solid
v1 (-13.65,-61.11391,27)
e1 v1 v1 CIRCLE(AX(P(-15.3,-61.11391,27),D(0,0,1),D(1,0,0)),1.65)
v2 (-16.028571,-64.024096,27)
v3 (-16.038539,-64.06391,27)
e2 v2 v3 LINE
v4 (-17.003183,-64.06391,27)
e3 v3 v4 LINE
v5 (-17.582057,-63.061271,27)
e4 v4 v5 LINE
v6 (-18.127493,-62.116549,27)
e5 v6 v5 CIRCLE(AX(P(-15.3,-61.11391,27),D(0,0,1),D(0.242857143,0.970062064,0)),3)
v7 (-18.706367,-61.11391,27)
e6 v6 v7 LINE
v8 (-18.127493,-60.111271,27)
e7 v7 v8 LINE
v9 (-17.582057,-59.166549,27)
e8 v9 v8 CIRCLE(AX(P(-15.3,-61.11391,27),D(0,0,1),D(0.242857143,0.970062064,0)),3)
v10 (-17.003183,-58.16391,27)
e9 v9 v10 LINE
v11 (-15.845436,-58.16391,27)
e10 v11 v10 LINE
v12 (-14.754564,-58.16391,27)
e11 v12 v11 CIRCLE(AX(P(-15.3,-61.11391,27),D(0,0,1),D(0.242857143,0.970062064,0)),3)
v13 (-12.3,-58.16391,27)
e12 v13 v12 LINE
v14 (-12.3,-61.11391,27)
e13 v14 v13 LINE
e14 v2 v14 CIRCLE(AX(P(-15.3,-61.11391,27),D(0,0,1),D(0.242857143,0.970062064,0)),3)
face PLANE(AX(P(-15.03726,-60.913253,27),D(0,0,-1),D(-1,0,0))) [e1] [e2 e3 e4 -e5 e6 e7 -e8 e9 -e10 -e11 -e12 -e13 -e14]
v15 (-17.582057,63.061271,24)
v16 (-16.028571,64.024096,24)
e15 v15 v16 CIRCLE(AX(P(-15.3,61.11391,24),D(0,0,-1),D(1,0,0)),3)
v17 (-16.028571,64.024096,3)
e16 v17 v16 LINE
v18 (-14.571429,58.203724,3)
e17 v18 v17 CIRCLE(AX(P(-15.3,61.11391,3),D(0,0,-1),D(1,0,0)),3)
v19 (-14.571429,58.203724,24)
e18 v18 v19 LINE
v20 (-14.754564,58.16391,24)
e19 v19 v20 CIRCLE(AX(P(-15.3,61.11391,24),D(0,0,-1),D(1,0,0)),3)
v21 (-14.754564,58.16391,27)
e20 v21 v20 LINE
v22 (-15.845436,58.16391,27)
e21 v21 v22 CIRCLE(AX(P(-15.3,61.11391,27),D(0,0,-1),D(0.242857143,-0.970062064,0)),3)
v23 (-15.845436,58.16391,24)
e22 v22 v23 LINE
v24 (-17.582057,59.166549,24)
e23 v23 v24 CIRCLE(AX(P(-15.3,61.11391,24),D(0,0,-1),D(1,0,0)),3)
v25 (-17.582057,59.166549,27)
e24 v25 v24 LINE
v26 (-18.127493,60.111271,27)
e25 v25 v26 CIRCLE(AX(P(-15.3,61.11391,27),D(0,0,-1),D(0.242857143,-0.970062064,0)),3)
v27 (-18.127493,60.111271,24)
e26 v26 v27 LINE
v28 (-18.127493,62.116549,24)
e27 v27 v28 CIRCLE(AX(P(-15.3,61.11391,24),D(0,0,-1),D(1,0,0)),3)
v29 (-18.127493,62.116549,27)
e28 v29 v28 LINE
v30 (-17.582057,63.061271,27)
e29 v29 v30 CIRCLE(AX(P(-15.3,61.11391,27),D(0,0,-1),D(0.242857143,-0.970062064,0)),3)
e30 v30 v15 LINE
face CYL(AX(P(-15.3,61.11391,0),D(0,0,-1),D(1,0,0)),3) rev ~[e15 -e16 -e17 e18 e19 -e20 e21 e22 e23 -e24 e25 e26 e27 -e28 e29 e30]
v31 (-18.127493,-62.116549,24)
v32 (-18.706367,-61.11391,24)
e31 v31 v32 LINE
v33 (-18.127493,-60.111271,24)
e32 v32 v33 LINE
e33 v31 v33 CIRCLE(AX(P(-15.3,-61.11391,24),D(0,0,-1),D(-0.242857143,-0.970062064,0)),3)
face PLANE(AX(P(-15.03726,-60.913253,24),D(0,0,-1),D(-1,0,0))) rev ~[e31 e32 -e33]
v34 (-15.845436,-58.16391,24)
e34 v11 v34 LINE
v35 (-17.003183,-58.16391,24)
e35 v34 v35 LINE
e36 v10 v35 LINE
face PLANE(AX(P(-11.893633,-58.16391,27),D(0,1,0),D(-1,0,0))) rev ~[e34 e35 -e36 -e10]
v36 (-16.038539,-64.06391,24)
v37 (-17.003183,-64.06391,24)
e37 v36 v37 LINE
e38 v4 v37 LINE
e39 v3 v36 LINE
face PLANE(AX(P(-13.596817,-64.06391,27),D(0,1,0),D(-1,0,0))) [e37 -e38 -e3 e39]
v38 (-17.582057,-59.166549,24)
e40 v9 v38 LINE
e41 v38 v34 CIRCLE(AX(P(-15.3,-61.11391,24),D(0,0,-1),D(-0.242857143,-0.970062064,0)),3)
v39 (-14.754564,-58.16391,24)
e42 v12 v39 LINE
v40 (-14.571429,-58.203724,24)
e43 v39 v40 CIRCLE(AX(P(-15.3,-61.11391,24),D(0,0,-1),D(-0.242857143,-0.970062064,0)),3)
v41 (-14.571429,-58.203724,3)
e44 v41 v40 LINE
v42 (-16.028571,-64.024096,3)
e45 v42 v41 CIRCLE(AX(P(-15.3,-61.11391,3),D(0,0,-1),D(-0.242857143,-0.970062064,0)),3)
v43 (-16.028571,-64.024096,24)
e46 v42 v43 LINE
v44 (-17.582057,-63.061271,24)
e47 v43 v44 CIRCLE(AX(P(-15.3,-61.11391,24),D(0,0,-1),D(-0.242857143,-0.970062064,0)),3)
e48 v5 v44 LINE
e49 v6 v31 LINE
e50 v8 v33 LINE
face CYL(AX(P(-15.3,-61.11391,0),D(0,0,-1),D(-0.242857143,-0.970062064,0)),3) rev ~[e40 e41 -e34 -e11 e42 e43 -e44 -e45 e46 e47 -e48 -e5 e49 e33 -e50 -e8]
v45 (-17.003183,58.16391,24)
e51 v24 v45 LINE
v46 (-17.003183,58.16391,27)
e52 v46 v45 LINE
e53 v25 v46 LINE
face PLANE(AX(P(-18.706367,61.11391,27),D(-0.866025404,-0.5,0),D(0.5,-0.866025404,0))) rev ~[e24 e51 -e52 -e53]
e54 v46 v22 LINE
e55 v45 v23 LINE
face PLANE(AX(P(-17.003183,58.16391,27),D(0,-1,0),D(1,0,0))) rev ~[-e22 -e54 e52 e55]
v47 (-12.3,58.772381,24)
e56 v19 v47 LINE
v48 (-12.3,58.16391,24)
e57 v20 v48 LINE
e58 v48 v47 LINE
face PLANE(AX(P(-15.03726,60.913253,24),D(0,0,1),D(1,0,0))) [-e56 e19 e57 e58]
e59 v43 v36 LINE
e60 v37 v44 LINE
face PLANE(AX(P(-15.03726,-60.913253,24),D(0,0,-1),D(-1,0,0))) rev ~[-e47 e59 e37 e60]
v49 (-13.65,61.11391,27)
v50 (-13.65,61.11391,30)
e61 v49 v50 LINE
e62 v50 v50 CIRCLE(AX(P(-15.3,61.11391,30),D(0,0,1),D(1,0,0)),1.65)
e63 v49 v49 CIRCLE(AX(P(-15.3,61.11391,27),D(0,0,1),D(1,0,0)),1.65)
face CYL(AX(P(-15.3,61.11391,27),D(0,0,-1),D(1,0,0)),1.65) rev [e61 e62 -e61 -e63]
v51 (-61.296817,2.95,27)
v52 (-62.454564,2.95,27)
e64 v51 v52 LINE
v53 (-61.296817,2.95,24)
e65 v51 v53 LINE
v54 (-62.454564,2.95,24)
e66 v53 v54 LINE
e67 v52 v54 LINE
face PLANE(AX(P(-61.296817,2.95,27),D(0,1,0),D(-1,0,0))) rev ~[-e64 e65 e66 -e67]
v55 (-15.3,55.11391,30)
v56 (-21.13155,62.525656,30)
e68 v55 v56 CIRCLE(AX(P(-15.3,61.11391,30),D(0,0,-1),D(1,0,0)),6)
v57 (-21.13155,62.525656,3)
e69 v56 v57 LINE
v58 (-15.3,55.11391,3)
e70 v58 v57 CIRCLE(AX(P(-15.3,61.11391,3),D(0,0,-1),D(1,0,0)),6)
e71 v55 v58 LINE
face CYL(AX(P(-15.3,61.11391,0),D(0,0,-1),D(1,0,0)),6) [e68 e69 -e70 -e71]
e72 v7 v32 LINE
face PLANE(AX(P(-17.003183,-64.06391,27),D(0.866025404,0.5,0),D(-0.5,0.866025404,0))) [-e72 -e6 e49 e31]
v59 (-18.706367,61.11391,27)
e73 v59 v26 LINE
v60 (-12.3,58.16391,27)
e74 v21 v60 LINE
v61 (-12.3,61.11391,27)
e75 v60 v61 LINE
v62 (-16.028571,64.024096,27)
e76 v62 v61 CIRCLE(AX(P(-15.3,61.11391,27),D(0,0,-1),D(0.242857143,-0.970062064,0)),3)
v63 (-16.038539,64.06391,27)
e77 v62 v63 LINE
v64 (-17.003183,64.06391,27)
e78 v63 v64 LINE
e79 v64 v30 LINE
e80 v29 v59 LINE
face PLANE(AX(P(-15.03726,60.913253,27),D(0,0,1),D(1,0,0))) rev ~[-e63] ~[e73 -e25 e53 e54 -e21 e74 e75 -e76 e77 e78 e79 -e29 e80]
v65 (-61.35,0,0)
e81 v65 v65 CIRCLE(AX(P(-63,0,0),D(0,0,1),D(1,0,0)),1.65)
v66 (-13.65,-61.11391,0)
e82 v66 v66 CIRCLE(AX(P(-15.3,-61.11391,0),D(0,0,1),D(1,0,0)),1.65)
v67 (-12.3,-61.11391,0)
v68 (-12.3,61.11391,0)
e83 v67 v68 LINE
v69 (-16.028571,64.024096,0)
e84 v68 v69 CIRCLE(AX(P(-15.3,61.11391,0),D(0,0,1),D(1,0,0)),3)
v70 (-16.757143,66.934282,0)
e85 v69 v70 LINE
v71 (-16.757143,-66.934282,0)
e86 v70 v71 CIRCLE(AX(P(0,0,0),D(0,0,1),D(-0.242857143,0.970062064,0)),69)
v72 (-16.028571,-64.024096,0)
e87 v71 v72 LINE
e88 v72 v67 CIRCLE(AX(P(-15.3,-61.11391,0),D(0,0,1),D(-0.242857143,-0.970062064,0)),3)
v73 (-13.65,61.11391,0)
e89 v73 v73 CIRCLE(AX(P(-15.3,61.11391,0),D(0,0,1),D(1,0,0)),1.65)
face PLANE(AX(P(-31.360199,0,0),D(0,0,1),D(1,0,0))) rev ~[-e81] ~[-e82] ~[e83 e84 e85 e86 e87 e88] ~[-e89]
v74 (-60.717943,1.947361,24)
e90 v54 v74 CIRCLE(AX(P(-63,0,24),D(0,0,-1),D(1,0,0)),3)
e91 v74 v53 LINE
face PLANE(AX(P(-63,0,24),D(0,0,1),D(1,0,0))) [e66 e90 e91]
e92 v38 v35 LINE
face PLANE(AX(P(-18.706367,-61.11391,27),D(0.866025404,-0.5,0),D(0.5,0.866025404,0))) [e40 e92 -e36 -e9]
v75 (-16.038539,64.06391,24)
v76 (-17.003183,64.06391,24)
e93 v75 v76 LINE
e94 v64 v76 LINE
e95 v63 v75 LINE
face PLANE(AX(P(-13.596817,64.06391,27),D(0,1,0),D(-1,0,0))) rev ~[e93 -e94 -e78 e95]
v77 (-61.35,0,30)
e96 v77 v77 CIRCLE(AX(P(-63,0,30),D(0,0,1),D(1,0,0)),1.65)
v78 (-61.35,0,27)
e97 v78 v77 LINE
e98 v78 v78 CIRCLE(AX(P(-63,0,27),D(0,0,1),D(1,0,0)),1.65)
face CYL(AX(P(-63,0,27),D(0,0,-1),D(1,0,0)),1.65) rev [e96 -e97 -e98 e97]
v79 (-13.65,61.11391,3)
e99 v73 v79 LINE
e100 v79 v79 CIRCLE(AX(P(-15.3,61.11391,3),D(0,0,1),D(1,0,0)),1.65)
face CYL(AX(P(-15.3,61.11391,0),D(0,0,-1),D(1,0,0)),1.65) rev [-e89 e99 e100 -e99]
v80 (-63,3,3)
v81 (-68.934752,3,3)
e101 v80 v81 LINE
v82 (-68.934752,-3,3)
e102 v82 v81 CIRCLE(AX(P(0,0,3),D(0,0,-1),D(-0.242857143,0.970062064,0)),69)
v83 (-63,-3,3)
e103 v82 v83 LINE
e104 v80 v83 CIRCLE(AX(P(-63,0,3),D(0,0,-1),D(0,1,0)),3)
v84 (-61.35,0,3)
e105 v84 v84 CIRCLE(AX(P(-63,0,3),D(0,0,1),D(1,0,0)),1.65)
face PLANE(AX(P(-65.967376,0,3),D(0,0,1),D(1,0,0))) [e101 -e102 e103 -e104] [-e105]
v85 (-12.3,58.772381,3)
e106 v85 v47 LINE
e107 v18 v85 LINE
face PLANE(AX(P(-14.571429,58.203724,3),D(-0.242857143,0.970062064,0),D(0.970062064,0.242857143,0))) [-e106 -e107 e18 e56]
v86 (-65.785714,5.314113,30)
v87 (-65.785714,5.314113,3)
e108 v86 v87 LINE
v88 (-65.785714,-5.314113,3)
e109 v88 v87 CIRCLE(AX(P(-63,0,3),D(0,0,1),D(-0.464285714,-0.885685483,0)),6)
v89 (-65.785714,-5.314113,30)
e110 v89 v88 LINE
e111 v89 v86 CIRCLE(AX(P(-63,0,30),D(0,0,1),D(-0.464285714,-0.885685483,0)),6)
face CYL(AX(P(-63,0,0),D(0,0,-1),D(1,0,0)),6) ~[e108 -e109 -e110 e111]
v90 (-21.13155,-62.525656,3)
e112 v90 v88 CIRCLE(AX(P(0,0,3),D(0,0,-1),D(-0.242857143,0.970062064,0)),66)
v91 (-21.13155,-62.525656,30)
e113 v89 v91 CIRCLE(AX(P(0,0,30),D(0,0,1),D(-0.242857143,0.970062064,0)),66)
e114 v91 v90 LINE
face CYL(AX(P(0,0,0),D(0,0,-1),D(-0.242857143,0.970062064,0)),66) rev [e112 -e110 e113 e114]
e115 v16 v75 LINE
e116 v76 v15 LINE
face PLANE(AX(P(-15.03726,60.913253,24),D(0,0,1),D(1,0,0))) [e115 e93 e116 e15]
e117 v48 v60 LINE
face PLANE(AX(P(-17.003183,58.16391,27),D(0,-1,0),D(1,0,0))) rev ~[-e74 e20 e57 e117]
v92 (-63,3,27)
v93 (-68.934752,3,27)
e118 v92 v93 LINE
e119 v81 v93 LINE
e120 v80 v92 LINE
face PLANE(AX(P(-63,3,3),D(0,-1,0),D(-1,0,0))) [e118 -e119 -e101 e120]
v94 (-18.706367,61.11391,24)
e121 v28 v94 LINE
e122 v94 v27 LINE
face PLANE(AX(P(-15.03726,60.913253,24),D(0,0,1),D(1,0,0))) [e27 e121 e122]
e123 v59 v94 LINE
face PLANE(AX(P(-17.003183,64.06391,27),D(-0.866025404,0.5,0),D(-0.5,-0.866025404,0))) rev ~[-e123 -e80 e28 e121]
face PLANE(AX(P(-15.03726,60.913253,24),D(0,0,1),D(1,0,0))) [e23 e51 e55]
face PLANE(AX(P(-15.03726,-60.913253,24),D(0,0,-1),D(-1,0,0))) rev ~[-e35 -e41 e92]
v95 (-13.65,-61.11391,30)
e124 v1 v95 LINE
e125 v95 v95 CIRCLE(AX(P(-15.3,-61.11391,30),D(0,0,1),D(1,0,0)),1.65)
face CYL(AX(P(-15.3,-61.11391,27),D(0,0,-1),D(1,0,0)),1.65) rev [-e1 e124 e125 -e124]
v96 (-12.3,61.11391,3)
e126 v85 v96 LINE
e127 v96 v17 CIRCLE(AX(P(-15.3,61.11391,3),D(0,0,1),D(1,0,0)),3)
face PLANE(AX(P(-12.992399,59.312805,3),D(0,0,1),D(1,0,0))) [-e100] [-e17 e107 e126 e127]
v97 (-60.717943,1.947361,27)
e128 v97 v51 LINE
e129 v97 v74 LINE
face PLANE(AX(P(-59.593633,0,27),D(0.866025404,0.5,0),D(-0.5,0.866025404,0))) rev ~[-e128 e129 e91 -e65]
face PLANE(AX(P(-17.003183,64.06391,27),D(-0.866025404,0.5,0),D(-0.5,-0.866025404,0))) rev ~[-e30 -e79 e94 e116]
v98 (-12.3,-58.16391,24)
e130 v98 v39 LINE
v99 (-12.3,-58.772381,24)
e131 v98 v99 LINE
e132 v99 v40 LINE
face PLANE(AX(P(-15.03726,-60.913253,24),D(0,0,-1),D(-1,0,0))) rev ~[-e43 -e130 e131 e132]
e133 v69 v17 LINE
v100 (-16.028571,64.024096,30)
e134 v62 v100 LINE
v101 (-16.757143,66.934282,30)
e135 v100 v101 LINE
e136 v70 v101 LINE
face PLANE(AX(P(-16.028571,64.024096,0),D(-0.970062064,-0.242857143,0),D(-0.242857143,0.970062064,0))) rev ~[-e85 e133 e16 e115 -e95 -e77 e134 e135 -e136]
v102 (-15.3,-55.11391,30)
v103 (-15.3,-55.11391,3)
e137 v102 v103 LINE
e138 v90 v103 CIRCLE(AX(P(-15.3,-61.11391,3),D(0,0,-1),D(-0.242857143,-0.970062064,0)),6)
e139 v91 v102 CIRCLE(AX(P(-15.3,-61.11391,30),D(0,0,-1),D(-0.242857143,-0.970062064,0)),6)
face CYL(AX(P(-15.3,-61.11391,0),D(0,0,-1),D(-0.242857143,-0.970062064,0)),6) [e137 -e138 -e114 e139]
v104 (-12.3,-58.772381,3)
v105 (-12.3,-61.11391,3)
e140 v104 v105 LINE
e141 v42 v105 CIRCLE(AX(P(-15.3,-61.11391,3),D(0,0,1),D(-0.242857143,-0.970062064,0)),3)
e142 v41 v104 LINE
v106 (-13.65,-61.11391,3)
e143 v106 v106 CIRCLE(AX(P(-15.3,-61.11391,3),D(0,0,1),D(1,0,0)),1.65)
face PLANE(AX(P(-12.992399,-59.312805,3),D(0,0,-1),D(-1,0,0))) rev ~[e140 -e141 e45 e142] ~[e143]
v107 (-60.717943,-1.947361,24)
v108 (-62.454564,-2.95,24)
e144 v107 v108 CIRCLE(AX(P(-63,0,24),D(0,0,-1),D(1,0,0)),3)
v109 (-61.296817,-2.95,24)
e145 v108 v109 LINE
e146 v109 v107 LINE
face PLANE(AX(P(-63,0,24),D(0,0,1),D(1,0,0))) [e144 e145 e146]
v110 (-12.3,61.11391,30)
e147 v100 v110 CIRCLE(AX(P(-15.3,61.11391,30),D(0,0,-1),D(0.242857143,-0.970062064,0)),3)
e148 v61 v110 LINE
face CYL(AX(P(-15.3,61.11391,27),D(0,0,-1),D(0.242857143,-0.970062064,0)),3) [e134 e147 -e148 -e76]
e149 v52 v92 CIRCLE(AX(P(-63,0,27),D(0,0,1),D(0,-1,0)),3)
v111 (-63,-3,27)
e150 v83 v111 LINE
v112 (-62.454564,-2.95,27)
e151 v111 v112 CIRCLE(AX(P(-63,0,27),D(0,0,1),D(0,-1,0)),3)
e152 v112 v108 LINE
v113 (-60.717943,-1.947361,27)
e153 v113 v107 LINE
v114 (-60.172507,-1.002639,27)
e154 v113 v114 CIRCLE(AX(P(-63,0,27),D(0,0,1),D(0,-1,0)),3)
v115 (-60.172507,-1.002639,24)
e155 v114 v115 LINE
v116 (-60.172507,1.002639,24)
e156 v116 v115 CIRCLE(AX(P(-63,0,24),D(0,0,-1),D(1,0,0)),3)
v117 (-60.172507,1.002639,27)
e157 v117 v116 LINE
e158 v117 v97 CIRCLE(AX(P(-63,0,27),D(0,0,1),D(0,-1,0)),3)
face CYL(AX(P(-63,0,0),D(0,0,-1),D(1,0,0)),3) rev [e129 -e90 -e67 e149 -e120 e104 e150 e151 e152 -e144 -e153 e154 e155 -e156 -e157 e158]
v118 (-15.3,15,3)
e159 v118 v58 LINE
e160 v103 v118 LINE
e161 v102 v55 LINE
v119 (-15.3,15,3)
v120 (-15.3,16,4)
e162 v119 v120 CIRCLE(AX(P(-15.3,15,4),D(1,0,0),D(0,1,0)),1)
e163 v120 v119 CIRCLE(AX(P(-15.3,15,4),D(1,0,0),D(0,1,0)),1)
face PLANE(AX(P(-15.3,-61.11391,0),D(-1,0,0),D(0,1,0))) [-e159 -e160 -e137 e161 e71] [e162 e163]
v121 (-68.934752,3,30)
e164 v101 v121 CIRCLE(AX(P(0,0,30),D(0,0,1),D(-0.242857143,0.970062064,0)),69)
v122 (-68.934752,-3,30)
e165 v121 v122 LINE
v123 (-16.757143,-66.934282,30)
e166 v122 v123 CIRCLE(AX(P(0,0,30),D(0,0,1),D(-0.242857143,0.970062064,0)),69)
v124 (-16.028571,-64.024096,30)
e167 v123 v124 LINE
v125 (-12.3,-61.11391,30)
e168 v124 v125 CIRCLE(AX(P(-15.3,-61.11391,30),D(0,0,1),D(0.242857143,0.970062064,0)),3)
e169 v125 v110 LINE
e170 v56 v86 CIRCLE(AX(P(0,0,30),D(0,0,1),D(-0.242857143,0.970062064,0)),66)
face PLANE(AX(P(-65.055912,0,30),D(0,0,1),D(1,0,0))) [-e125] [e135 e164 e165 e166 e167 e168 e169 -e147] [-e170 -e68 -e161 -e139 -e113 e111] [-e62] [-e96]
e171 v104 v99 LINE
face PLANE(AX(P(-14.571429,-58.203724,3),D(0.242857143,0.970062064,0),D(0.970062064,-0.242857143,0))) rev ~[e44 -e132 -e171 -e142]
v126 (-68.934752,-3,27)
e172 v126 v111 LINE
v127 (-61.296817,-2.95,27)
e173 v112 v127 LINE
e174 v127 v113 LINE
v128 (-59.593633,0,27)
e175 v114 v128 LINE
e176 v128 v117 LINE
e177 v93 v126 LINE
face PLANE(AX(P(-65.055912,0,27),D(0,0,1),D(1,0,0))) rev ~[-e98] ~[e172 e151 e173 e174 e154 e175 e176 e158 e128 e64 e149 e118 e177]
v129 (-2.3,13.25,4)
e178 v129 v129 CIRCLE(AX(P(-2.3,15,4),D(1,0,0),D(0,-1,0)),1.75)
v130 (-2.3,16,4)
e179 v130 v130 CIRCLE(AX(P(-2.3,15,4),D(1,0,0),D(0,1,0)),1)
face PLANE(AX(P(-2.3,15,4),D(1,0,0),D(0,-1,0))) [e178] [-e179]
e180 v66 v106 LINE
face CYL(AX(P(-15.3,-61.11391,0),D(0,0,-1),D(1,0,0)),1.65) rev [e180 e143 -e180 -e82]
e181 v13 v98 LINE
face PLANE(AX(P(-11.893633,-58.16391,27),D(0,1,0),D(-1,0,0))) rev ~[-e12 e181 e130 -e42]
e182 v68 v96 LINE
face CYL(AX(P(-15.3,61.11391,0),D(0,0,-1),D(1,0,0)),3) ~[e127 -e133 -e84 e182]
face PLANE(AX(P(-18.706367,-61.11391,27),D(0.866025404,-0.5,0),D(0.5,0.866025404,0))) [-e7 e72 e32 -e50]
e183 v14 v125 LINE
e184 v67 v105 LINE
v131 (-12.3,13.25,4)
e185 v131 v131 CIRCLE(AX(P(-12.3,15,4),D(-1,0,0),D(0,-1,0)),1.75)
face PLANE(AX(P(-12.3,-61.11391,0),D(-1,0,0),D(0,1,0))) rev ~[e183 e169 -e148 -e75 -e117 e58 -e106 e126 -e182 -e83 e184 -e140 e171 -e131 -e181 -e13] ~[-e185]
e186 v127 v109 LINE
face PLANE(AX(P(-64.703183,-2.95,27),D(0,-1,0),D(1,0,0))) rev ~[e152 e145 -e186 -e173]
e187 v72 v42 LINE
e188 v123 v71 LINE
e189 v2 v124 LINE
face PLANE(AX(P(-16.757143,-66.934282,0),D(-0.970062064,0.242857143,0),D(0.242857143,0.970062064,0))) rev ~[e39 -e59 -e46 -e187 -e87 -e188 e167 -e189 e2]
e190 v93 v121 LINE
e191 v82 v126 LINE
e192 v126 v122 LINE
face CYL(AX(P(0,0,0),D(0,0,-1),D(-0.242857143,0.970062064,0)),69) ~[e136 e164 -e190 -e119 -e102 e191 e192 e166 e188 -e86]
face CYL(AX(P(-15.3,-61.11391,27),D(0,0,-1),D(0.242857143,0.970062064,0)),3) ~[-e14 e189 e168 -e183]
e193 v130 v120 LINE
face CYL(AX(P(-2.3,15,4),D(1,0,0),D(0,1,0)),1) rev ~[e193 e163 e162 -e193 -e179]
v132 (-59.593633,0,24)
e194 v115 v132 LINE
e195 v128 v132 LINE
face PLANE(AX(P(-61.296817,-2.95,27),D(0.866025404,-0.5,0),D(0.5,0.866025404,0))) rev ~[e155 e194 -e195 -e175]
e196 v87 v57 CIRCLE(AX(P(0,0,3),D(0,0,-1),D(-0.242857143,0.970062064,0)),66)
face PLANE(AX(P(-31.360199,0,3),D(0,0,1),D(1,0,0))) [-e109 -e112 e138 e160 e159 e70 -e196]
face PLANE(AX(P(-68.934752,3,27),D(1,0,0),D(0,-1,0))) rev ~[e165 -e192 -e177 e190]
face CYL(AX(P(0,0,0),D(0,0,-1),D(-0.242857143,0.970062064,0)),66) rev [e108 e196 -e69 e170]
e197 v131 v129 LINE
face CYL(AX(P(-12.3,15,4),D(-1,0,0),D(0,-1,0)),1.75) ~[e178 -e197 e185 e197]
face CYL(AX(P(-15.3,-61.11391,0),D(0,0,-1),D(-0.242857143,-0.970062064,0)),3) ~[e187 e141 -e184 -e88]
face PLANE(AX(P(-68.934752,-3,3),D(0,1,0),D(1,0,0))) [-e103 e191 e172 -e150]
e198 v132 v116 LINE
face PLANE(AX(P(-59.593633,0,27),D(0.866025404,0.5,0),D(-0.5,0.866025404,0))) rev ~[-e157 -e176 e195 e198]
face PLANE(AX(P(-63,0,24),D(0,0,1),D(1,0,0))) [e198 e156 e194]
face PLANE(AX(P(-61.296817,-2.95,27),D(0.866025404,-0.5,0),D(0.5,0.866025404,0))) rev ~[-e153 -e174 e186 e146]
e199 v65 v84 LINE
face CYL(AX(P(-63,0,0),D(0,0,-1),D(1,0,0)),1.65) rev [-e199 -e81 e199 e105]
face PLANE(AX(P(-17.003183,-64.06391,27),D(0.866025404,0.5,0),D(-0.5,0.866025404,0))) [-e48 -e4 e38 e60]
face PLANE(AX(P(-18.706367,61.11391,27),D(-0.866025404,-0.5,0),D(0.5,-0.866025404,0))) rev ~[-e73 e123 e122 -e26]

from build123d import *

# Parameters (mm, degrees)
SKETCH1_R           = 3
BOSS_EXTRUDE2_DEPTH = 30
SHELL1_T            = -3
SKETCH3_R           = 1.75
BOSS_EXTRUDE3_DEPTH = 10
SKETCH5_R           = 1.65
BOSS_EXTRUDE4_DEPTH = 3
CUT_EXTRUDE1_START  = -27
CUT_EXTRUDE1_DEPTH  = 27
CUT_EXTRUDE2_START  = -3
CUT_EXTRUDE2_DEPTH  = 3
BOSS_EXTRUDE5_START = -3
SKETCH8_R           = 1.65
BOSS_EXTRUDE5_DEPTH = 3
SKETCH9_R           = 1
CUT_EXTRUDE3_DEPTH  = 30


with BuildPart() as part:
    # Sketch1 → Boss-Extrude2 (new body)
    with BuildSketch(Plane.XY):
        with BuildLine():
            Line((-12.3, -61.113910037), (-12.3, 61.113910037))
            ThreePointArc((-12.3, 61.113910037), (-17.145844754, 58.748987809), (-16.028571429, 64.024096229))
            Line((-16.028571429, 64.024096229), (-16.757142857, 66.934282421))
            ThreePointArc((-16.757142857, 66.934282421), (-69, 0), (-16.757142857, -66.934282421))
            Line((-16.757142857, -66.934282421), (-16.028571429, -64.024096229))
            ThreePointArc((-16.028571429, -64.024096229), (-17.145844754, -58.748987809), (-12.3, -61.113910037))
        make_face()
        with Locations((-63, 0)):
            Circle(SKETCH1_R, mode=Mode.SUBTRACT)
    extrude(amount=BOSS_EXTRUDE2_DEPTH)

    # Shell1
    shell1_openings = [part.faces().sort_by_distance(p)[0] for p in [
        (-36.229379507, 0, 30),
    ]]
    offset(amount=SHELL1_T, openings=shell1_openings)

    # Sketch3 → Boss-Extrude3 (add)
    with BuildSketch(Plane.YZ.offset(-12.3)):
        with Locations(Location((15, 4, 0), (0, 0, 180))):
            Circle(SKETCH3_R)
    extrude(amount=BOSS_EXTRUDE3_DEPTH)

    # Sketch5 → Boss-Extrude4 (add)
    with BuildSketch(Plane.XY):
        with BuildLine():
            Line((-12.3, -61.113910037), (-12.3, 61.113910037))
            ThreePointArc((-12.3, 61.113910037), (-13.454155246, 63.478832265), (-16.028571429, 64.024096229))
            Line((-16.028571429, 64.024096229), (-16.757142857, 66.934282421))
            ThreePointArc((-16.757142857, 66.934282421), (-69, 0), (-16.757142857, -66.934282421))
            Line((-16.757142857, -66.934282421), (-16.028571429, -64.024096229))
            ThreePointArc((-16.028571429, -64.024096229), (-13.454155246, -63.478832265), (-12.3, -61.113910037))
        make_face()
        with Locations((-63, 0)):
            Circle(SKETCH5_R, mode=Mode.SUBTRACT)
        with Locations((-15.3, 61.113910037)):
            Circle(SKETCH5_R, mode=Mode.SUBTRACT)
        with Locations((-15.3, -61.113910037)):
            Circle(SKETCH5_R, mode=Mode.SUBTRACT)
    extrude(amount=BOSS_EXTRUDE4_DEPTH)

    # Sketch6 → Cut-Extrude1 (cut)
    with BuildSketch(Plane.XY.offset(30).offset(CUT_EXTRUDE1_START)):
        with BuildLine():
            Line((-63, 3), (-68.934751758, 3))
            ThreePointArc((-68.934751758, 3), (-71.934751758, 0), (-68.934751758, -3))
            Line((-68.934751758, -3), (-63, -3))
            ThreePointArc((-63, -3), (-60, 0), (-63, 3))
        make_face()
        with BuildLine():
            Line((-14.571428571, -58.203723845), (-12.3, -58.772380917))
            Line((-12.3, -58.772380917), (-12.3, -61.113910037))
            ThreePointArc((-12.3, -61.113910037), (-12.935077772, -59.268065283), (-14.571428571, -58.203723845))
        make_face()
        with BuildLine():
            Line((-14.571428571, 58.203723845), (-12.3, 58.772380917))
            Line((-12.3, 58.772380917), (-12.3, 61.113910037))
            ThreePointArc((-12.3, 61.113910037), (-12.935077772, 59.268065283), (-14.571428571, 58.203723845))
        make_face()
    extrude(amount=CUT_EXTRUDE1_DEPTH, mode=Mode.SUBTRACT)

    # Sketch7 → Cut-Extrude2 (cut)
    with BuildSketch(Plane.XY.offset(30).offset(CUT_EXTRUDE2_START)):
        Polygon((-13.596816706, -58.163910037), (-11.893633412, -58.163910037), (-11.893633412, -61.113910037), (-13.596816706, -64.063910037), (-17.003183294, -64.063910037), (-18.706366588, -61.113910037), (-17.003183294, -58.163910037), align=None)
        Polygon((-11.893633412, 61.113910037), (-13.596816706, 64.063910037), (-17.003183294, 64.063910037), (-18.706366588, 61.113910037), (-17.003183294, 58.163910037), (-13.596816706, 58.163910037), (-11.893633412, 58.163910037), align=None)
        Polygon((-59.593633412, 0), (-61.296816706, 2.95), (-64.703183294, 2.95), (-66.406366588, 0), (-64.703183294, -2.95), (-61.296816706, -2.95), align=None)
    extrude(amount=-CUT_EXTRUDE2_DEPTH, mode=Mode.SUBTRACT)

    # Sketch8 → Boss-Extrude5 (add)
    # profile 1 of 3: a face of its own
    with BuildSketch(Plane.XY.offset(30).offset(BOSS_EXTRUDE5_START)):
        with BuildLine():
            Line((-63, 3), (-68.934751758, 3))
            Line((-68.934751758, 3), (-68.934751758, -3))
            Line((-68.934751758, -3), (-63, -3))
            ThreePointArc((-63, -3), (-60, 0), (-63, 3))
        make_face()
        with Locations((-63, 0)):
            Circle(SKETCH8_R, mode=Mode.SUBTRACT)
    # profile 2 of 3: a face of its own
    with BuildSketch(Plane.XY.offset(30).offset(BOSS_EXTRUDE5_START)):
        with BuildLine():
            Line((-12.3, -58.772380917), (-14.571428571, -58.203723845))
            ThreePointArc((-14.571428571, -58.203723845), (-17.664922228, -62.959754791), (-12.3, -61.113910037))
            Line((-12.3, -61.113910037), (-12.3, -58.772380917))
        make_face()
        with Locations((-15.3, -61.113910037)):
            Circle(SKETCH8_R, mode=Mode.SUBTRACT)
    # profile 3 of 3: a face of its own
    with BuildSketch(Plane.XY.offset(30).offset(BOSS_EXTRUDE5_START)):
        with BuildLine():
            Line((-12.3, 61.113910037), (-12.3, 58.772380917))
            Line((-12.3, 58.772380917), (-14.571428571, 58.203723845))
            ThreePointArc((-14.571428571, 58.203723845), (-17.664922228, 62.959754791), (-12.3, 61.113910037))
        make_face()
        with Locations((-15.3, 61.113910037)):
            Circle(SKETCH8_R, mode=Mode.SUBTRACT)
    extrude(amount=BOSS_EXTRUDE5_DEPTH)

    # Sketch9 → Cut-Extrude3 (cut)
    with BuildSketch(Plane.YZ.offset(-2.3)):
        with Locations((15, 4)):
            Circle(SKETCH9_R)
    extrude(amount=-CUT_EXTRUDE3_DEPTH, mode=Mode.SUBTRACT)


solid = part.part
